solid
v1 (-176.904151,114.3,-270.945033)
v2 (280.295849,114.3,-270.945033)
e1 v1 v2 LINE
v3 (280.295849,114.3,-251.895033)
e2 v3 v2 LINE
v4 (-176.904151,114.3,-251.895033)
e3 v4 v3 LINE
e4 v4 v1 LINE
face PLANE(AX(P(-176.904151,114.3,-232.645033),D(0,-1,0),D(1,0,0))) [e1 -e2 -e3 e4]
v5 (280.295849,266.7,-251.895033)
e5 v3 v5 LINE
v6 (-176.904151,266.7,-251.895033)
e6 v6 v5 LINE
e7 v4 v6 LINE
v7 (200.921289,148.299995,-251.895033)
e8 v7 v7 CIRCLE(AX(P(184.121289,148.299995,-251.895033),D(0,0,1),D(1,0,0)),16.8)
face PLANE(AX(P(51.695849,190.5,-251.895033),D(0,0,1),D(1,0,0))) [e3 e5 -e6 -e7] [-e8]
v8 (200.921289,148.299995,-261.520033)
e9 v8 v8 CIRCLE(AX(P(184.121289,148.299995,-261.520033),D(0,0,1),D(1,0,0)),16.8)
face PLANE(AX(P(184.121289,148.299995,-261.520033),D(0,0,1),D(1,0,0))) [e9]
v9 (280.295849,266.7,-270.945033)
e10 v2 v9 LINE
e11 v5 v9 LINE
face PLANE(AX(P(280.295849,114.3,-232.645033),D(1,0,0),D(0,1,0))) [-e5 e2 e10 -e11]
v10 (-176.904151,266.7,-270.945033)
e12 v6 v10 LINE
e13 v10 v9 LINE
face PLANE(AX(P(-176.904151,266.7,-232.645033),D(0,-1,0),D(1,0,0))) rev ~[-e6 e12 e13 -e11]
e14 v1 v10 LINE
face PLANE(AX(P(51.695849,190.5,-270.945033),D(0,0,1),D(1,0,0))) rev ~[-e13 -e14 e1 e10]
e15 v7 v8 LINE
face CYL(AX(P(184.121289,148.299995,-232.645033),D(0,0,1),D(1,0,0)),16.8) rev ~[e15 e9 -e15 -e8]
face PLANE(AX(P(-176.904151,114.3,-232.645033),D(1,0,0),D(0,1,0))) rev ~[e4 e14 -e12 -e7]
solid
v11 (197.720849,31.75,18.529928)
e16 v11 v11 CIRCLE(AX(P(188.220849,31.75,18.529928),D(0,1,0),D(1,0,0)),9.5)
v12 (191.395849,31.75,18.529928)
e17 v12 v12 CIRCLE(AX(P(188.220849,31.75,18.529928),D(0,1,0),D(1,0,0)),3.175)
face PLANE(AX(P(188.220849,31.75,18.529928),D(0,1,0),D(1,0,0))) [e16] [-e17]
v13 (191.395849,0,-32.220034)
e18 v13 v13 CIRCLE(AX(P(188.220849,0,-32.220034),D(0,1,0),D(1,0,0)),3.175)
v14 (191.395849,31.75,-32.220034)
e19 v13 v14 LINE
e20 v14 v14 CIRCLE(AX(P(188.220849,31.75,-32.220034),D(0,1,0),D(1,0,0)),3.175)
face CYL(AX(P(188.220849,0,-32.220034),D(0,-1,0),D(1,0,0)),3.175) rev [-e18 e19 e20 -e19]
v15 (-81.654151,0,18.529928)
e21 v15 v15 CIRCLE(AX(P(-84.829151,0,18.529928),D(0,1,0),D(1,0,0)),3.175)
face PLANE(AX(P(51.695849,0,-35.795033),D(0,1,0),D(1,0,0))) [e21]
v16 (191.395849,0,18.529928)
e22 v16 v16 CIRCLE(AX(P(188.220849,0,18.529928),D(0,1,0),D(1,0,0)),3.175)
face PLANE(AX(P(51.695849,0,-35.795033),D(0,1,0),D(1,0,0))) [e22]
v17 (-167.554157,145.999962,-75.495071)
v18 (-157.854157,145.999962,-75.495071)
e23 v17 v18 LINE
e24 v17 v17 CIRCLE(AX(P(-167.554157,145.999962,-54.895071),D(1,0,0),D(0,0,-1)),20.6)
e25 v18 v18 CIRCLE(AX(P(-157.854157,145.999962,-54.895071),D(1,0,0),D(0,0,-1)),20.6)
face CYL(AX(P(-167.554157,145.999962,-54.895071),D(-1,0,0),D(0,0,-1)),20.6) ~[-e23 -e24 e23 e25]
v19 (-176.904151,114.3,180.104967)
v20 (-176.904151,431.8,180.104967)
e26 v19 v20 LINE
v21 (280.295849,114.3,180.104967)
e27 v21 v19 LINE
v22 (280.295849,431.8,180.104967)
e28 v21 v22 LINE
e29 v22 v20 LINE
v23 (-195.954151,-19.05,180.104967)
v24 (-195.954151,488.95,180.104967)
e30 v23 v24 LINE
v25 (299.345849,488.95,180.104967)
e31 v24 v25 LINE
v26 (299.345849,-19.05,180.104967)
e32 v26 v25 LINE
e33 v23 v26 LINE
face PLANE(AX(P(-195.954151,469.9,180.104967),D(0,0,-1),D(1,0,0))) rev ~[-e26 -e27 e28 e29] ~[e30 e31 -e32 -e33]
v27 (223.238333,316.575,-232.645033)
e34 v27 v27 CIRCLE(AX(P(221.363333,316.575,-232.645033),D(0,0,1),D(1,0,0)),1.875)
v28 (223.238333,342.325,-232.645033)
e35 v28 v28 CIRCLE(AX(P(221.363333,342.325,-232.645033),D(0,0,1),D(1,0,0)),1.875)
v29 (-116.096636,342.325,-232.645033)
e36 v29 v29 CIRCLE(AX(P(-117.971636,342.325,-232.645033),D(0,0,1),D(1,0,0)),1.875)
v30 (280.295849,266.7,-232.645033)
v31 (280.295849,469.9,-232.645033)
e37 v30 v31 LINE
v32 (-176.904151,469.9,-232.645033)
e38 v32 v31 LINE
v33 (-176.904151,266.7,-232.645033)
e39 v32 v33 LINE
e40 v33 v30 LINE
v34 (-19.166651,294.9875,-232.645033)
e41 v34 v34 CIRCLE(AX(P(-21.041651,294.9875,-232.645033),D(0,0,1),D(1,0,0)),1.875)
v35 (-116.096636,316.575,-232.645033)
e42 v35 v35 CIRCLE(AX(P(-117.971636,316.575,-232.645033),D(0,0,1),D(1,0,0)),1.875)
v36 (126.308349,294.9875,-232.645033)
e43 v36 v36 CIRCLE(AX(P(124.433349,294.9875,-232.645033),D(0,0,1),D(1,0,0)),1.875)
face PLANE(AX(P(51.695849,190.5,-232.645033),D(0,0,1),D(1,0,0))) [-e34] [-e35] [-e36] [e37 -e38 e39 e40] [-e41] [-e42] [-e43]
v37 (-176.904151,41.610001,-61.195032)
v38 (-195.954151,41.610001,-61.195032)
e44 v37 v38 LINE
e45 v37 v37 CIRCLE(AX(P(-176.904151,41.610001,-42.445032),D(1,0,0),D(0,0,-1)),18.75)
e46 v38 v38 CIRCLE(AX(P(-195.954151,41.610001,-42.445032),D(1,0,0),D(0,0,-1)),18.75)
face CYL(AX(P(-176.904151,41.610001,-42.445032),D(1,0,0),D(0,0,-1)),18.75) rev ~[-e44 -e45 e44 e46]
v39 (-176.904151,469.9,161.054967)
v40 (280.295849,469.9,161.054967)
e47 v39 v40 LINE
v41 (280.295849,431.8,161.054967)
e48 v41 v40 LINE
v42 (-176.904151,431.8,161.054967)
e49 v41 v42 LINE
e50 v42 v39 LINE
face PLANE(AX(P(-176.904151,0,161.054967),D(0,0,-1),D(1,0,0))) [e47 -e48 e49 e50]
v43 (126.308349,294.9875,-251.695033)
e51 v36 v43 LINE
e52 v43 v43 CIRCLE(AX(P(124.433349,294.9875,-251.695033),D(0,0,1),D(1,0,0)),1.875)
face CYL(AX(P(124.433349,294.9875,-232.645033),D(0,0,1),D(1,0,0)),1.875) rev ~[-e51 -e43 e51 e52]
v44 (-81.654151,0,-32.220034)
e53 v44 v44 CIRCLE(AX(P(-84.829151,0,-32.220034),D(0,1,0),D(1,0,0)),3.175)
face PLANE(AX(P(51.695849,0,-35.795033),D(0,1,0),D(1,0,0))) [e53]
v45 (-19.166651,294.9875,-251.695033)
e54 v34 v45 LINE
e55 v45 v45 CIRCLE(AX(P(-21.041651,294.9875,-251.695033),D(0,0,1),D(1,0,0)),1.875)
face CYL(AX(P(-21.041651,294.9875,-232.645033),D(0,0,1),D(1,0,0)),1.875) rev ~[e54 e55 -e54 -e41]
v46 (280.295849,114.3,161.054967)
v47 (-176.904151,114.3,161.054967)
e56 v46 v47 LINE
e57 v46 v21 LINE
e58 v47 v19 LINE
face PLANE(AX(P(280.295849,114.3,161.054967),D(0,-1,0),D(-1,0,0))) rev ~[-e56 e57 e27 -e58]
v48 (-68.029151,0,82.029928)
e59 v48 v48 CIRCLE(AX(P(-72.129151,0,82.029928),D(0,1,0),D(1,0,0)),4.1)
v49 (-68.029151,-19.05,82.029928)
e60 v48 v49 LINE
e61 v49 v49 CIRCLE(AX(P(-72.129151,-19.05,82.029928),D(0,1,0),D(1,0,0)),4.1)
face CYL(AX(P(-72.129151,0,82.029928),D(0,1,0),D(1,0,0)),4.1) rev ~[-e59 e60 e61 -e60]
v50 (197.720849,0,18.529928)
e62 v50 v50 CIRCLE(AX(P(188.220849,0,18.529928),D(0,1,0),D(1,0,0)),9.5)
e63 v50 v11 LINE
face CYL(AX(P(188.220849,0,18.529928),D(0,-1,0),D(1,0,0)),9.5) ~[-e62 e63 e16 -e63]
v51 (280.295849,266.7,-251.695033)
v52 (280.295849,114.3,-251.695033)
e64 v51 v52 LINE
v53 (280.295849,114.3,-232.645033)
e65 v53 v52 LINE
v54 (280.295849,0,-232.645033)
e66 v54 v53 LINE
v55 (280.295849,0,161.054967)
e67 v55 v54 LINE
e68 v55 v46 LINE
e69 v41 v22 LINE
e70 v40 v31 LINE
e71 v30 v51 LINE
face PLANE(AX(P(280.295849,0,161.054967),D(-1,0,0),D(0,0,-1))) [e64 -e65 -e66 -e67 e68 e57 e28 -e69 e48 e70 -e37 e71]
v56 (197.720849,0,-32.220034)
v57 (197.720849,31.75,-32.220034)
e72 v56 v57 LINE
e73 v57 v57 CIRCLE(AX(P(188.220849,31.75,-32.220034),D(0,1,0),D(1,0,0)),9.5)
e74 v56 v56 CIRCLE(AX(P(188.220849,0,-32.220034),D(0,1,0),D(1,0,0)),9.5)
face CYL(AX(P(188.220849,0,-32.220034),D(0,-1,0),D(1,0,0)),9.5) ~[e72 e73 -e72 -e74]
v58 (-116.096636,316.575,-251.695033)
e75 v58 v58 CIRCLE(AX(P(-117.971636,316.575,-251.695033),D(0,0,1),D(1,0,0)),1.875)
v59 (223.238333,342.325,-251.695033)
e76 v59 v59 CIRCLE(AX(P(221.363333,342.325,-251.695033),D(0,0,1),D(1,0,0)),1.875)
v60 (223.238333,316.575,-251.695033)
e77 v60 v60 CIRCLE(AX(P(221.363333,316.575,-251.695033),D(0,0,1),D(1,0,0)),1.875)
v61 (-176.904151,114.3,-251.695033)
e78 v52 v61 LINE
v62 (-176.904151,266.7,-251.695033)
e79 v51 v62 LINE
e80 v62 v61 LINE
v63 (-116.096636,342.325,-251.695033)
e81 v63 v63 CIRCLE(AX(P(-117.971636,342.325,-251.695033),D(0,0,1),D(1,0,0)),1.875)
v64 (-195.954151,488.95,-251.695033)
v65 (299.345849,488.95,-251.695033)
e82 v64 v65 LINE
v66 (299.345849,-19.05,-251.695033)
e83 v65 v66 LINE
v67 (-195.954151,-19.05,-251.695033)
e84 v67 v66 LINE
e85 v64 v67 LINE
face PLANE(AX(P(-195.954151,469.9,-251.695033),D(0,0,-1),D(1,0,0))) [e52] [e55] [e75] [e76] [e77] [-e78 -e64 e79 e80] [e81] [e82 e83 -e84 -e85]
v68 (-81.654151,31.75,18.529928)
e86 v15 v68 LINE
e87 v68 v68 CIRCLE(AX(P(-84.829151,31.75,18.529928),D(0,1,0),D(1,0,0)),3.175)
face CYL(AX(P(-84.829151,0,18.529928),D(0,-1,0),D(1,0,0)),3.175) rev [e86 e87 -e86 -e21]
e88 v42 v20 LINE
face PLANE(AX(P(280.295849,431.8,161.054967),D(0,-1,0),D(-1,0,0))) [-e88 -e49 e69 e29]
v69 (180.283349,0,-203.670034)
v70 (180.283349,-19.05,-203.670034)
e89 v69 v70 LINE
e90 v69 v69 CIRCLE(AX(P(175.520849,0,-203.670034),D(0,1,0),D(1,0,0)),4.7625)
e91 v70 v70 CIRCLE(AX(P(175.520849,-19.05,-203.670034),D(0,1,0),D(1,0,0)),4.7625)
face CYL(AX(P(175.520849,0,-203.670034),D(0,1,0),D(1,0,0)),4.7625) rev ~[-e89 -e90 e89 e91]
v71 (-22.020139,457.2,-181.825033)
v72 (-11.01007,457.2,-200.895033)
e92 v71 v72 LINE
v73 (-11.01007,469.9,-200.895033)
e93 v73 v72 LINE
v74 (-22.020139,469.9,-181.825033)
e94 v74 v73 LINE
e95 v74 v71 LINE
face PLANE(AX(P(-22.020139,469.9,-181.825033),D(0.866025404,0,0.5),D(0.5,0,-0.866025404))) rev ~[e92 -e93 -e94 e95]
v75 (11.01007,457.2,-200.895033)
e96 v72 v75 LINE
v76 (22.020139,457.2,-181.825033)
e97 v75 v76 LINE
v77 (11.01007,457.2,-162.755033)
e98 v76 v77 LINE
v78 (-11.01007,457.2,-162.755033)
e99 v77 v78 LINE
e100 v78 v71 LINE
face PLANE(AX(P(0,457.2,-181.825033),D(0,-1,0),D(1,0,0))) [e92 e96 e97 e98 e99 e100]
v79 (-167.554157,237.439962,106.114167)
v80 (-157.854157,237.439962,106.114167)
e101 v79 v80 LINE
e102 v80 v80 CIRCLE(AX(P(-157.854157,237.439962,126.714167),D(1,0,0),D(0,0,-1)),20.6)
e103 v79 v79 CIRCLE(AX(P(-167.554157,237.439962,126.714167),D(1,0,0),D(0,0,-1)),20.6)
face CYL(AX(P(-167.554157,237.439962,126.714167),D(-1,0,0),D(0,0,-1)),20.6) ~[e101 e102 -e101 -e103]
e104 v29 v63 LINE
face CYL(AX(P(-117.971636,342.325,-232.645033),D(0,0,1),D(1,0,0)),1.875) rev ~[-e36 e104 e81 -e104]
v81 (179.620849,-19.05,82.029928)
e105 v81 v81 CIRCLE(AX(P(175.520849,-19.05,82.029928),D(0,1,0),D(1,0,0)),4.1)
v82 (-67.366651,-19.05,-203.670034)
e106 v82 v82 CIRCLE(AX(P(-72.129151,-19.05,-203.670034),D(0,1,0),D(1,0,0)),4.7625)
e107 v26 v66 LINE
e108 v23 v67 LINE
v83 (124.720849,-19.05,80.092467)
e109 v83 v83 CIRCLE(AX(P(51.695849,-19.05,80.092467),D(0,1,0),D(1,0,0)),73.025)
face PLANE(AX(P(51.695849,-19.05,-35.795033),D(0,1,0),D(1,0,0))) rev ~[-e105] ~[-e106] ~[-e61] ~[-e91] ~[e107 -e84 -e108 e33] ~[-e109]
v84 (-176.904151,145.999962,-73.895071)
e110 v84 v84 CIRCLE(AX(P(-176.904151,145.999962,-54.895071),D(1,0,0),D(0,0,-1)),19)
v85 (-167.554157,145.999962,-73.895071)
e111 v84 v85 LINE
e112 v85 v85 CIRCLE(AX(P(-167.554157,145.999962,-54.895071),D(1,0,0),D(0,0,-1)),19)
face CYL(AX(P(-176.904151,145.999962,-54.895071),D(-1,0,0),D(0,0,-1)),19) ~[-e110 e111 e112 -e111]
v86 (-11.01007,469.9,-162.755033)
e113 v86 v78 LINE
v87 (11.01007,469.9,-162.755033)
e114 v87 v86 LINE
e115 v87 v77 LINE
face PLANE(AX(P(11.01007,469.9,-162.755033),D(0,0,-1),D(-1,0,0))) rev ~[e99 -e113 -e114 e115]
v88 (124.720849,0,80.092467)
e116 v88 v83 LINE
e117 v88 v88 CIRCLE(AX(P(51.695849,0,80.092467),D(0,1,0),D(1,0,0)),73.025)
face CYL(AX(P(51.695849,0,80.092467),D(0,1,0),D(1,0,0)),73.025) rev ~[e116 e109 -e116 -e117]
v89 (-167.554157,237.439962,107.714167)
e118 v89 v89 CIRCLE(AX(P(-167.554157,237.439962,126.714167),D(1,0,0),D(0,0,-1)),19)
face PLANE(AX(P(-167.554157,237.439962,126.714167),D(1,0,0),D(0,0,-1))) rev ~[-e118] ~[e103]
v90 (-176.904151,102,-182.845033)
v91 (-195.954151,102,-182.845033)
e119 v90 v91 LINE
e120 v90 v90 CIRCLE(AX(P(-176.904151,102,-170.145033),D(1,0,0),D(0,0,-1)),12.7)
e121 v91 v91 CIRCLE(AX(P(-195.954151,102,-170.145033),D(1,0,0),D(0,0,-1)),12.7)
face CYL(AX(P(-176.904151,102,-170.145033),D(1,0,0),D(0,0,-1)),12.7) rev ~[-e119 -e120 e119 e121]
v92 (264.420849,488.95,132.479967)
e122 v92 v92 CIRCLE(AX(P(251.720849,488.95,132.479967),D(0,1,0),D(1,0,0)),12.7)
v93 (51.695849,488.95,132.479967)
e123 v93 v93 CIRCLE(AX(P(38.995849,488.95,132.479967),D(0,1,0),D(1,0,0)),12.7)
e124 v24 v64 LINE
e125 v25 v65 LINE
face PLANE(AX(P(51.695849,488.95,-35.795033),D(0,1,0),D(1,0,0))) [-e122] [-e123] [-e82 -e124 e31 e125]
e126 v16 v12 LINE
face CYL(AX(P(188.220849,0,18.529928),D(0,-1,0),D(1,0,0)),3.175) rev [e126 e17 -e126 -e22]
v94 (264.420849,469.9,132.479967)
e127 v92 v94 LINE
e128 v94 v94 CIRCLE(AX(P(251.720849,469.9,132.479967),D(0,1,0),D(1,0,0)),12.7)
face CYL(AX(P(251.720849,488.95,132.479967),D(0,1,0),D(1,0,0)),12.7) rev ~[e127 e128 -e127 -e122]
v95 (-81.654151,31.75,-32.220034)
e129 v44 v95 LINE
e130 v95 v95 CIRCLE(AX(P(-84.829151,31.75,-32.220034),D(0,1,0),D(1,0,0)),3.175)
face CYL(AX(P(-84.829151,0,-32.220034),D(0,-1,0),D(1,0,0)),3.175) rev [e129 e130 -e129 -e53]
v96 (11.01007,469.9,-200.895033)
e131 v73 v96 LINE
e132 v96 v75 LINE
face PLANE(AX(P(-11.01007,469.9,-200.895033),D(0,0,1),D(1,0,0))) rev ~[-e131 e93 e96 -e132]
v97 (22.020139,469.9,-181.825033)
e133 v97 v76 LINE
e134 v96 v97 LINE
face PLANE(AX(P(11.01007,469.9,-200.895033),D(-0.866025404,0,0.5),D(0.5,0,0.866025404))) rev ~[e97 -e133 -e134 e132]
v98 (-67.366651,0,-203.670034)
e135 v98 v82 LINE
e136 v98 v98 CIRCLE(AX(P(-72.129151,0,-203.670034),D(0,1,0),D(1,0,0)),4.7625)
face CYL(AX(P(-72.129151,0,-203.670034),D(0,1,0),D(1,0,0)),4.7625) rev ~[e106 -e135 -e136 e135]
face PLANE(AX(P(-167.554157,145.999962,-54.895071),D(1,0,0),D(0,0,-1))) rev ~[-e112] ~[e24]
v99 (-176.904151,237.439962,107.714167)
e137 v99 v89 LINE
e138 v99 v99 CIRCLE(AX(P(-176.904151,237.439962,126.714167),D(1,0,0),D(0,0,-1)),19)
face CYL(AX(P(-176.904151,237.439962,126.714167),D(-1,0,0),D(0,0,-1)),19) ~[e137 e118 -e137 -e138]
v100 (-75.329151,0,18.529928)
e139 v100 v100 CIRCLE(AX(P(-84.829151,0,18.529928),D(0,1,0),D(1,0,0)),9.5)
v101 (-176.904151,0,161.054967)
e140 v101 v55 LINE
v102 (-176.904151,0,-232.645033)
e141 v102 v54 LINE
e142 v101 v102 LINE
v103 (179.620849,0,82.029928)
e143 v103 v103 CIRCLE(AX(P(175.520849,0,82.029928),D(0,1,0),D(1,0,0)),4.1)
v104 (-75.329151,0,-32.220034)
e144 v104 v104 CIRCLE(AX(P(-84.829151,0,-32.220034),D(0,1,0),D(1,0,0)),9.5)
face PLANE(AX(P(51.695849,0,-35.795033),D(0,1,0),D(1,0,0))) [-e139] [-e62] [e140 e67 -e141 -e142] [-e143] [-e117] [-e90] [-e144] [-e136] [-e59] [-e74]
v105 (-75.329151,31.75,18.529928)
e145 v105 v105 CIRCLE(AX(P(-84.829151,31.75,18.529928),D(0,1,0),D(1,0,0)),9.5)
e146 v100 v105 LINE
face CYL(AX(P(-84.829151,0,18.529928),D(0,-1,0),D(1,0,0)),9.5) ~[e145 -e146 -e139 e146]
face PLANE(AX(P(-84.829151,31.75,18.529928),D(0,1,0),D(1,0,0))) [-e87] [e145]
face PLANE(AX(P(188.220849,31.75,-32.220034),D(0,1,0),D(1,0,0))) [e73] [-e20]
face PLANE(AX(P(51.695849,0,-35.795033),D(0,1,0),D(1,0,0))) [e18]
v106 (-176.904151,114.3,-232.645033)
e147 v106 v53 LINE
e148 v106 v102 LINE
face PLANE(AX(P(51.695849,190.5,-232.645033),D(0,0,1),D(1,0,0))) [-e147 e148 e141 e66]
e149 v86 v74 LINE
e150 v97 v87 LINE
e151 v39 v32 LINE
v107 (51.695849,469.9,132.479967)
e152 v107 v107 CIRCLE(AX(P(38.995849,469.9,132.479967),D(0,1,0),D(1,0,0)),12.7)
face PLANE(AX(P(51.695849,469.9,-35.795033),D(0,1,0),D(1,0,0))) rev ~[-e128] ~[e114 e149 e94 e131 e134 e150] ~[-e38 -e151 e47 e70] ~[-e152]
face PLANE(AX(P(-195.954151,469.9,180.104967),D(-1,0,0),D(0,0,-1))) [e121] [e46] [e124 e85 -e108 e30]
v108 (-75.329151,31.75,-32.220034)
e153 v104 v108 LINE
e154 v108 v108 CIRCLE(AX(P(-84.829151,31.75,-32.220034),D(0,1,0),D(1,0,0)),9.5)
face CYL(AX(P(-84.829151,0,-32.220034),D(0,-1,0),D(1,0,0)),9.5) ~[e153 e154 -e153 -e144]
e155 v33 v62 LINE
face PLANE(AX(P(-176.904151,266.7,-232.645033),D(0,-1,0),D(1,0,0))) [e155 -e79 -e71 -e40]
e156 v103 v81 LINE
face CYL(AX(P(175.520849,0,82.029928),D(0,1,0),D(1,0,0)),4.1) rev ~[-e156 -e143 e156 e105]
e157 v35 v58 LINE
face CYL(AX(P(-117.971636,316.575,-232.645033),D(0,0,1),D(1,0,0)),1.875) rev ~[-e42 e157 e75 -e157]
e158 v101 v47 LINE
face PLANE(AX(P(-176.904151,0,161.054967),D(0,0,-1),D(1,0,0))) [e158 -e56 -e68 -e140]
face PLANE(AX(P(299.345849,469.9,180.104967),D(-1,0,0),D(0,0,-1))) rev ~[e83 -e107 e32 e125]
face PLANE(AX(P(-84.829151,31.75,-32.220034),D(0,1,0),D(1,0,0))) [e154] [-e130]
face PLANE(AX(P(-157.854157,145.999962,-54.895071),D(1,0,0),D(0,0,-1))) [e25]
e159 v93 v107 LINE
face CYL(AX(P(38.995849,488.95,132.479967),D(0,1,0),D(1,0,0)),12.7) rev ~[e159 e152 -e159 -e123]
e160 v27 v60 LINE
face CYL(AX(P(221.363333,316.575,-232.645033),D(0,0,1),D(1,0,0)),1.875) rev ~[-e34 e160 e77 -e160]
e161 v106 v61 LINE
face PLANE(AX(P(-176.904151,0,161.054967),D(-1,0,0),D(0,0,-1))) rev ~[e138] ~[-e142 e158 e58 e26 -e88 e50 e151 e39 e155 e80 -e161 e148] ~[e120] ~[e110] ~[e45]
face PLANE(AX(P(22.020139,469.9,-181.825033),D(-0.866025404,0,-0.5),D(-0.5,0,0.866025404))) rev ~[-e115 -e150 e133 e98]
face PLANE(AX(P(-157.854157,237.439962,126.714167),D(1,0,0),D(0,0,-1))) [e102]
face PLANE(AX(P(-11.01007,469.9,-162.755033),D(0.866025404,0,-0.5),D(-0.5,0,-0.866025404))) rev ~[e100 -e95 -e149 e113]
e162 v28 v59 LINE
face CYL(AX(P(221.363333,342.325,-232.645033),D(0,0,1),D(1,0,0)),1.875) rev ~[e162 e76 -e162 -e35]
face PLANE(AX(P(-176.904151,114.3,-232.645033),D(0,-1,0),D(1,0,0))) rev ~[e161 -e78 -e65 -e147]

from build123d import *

# Parameters (mm, degrees)
BASE_PLATE_SKETCH_R   = 9.5
BASE_PLATE_SKETCH_R_2 = 3.175
BOSS_EXTRUDE2_DEPTH   = 31.75
BOSS_EXTRUDE2_2_DEPTH = 31.75
BOSS_EXTRUDE2_3_DEPTH = 31.75
BOSS_EXTRUDE2_4_DEPTH = 31.75
SKETCH1_5_W           = 495.3
SKETCH1_5_H           = 431.8
BOSS_EXTRUDE3_DEPTH   = 19.05
SKETCH1_6_R           = 73.025
SKETCH1_6_R_2         = 4.1
SKETCH1_6_R_3         = 4.7625
CUT_EXTRUDE1_DEPTH    = 99.05
SKETCH1_7_W           = 495.3
SKETCH1_7_H           = 431.8
SKETCH1_7_W_2         = 457.2
SKETCH1_7_H_2         = 393.7
BOSS_EXTRUDE4_DEPTH   = 469.9
BACK_WALL_SKETCH_W    = 457.2
BACK_WALL_SKETCH_H    = 152.4
BOSS_EXTRUDE5_DEPTH   = 38.3
BACK_WALL_SKETCH_5_W  = 457.2
BACK_WALL_SKETCH_5_H  = 152.4
CUT_EXTRUDE2_DEPTH    = 19.25
BACK_WALL_SKETCH_7_R  = 16.8
CUT_EXTRUDE5_DEPTH    = 28.875
BACK_WALL_SKETCH_8_R  = 1.875
CUT_EXTRUDE6_DEPTH    = 28.875
LEFT_WALL_SKETCH_R    = 18.75
CUT_EXTRUDE7_DEPTH    = 28.875
LEFT_WALL_SKETCH_3_R  = 19
BOSS_EXTRUDE6_DEPTH   = 9.349994
SKETCH5_R             = 20.6
BOSS_EXTRUDE7_DEPTH   = 9.7
CHAMBER_DOOR_SKETCH_W = 457.2
CHAMBER_DOOR_SKETCH_H = 317.5
CUT_EXTRUDE8_DEPTH    = 25.4
TOP_SKETCH_W          = 495.3
TOP_SKETCH_H          = 431.8
BOSS_EXTRUDE8_DEPTH   = 19.05
BOSS_EXTRUDE9_DEPTH   = 12.7
CUT_EXTRUDE9_REACH    = 510
SKETCH8_R             = 12.7
CUT_EXTRUDE10_REACH   = 21.05
SKETCH9_R             = 12.7


with BuildPart() as part:
    # Base Plate Sketch → Boss-Extrude2 (new body)
    with BuildSketch(Plane(origin=(0, 0, 0), x_dir=(1, 0, 0), z_dir=(0, 1, 0))):
        with Locations((-84.82915121, 32.220033819)):
            Circle(BASE_PLATE_SKETCH_R)
        with Locations((-84.82915121, 32.220033819)):
            Circle(BASE_PLATE_SKETCH_R_2, mode=Mode.SUBTRACT)
    extrude(amount=BOSS_EXTRUDE2_DEPTH)



with BuildPart() as body_2:
    # Base Plate Sketch → Boss-Extrude2 2 (new body)
    with BuildSketch(Plane(origin=(0, 0, 0), x_dir=(1, 0, 0), z_dir=(0, 1, 0))):
        with Locations((-84.82915121, -18.529928181)):
            Circle(BASE_PLATE_SKETCH_R)
        with Locations((-84.82915121, -18.529928181)):
            Circle(BASE_PLATE_SKETCH_R_2, mode=Mode.SUBTRACT)
    extrude(amount=BOSS_EXTRUDE2_2_DEPTH)


with BuildPart() as body_3:
    # Base Plate Sketch → Boss-Extrude2 3 (new body)
    with BuildSketch(Plane(origin=(0, 0, 0), x_dir=(1, 0, 0), z_dir=(0, 1, 0))):
        with Locations((188.22084879, -18.529928181)):
            Circle(BASE_PLATE_SKETCH_R)
        with Locations((188.22084879, -18.529928181)):
            Circle(BASE_PLATE_SKETCH_R_2, mode=Mode.SUBTRACT)
    extrude(amount=BOSS_EXTRUDE2_3_DEPTH)


with BuildPart() as body_4:
    # Base Plate Sketch → Boss-Extrude2 4 (new body)
    with BuildSketch(Plane(origin=(0, 0, 0), x_dir=(1, 0, 0), z_dir=(0, 1, 0))):
        with Locations((188.22084879, 32.220033819)):
            Circle(BASE_PLATE_SKETCH_R)
        with Locations((188.22084879, 32.220033819)):
            Circle(BASE_PLATE_SKETCH_R_2, mode=Mode.SUBTRACT)
    extrude(amount=BOSS_EXTRUDE2_4_DEPTH)


with BuildPart() as part_1:
    add(part.part)

    add(body_2.part)  # Boss-Extrude3 merges body 2

    add(body_3.part)  # Boss-Extrude3 merges body 3

    add(body_4.part)  # Boss-Extrude3 merges body 4
    # Sketch1<5> → Boss-Extrude3 (add)
    with BuildSketch(Plane(origin=(0, 0, 0), x_dir=(1, 0, 0), z_dir=(0, 1, 0))):
        with Locations((51.69584879, 35.795033019)):
            Rectangle(SKETCH1_5_W, SKETCH1_5_H)
    extrude(amount=-BOSS_EXTRUDE3_DEPTH)

    # Sketch1<6> → Cut-Extrude1 (cut)
    with BuildSketch(Plane(origin=(0, 0, 0), x_dir=(1, 0, 0), z_dir=(0, 1, 0))):
        with Locations((51.69584879, -80.092466981)):
            Circle(SKETCH1_6_R)
        with Locations((-72.12915121, -82.029928181)):
            Circle(SKETCH1_6_R_2)
        with Locations((-72.12915121, 203.670033819)):
            Circle(SKETCH1_6_R_3)
        with Locations((175.52084879, -82.029928181)):
            Circle(SKETCH1_6_R_2)
        with Locations((175.52084879, 203.670033819)):
            Circle(SKETCH1_6_R_3)
    extrude(amount=-CUT_EXTRUDE1_DEPTH, mode=Mode.SUBTRACT)

    # Sketch1<7> → Boss-Extrude4 (add)
    with BuildSketch(Plane(origin=(0, 0, 0), x_dir=(1, 0, 0), z_dir=(0, 1, 0))):
        with Locations((51.69584879, 35.795033019)):
            Rectangle(SKETCH1_7_W, SKETCH1_7_H)
        with Locations((51.69584879, 35.795033019)):
            Rectangle(SKETCH1_7_W_2, SKETCH1_7_H_2, mode=Mode.SUBTRACT)
    extrude(amount=BOSS_EXTRUDE4_DEPTH)

    # Back Wall Sketch → Boss-Extrude5 (add)
    with BuildSketch(Plane.XY.offset(-232.645033019)):
        with Locations((51.69584879, 190.5)):
            Rectangle(BACK_WALL_SKETCH_W, BACK_WALL_SKETCH_H)
    extrude(amount=-BOSS_EXTRUDE5_DEPTH)

    # Back Wall Sketch<5> → Cut-Extrude2 (cut)
    with BuildSketch(Plane.XY.offset(-232.645033019)):
        with Locations((51.69584879, 190.5)):
            Rectangle(BACK_WALL_SKETCH_5_W, BACK_WALL_SKETCH_5_H)
    extrude(amount=-CUT_EXTRUDE2_DEPTH, mode=Mode.SUBTRACT)

    # Back Wall Sketch<7> → Cut-Extrude5 (cut)
    with BuildSketch(Plane.XY.offset(-232.645033019)):
        with Locations((184.12128879, 148.2999955)):
            Circle(BACK_WALL_SKETCH_7_R)
    extrude(amount=-CUT_EXTRUDE5_DEPTH, mode=Mode.SUBTRACT)

    # Back Wall Sketch<8> → Cut-Extrude6 (cut)
    with BuildSketch(Plane.XY.offset(-232.645033019)):
        with Locations((-117.971635681, 342.32499988)):
            Circle(BACK_WALL_SKETCH_8_R)
        with Locations((-21.04165115, 294.98749994)):
            Circle(BACK_WALL_SKETCH_8_R)
        with Locations((-117.971635681, 316.57499988)):
            Circle(BACK_WALL_SKETCH_8_R)
        with Locations((124.43334873, 294.98749994)):
            Circle(BACK_WALL_SKETCH_8_R)
        with Locations((221.363333262, 342.32499988)):
            Circle(BACK_WALL_SKETCH_8_R)
        with Locations((221.363333262, 316.57499988)):
            Circle(BACK_WALL_SKETCH_8_R)
    extrude(amount=-CUT_EXTRUDE6_DEPTH, mode=Mode.SUBTRACT)

    # Left Wall Sketch → Cut-Extrude7 (cut)
    with BuildSketch(Plane(origin=(-176.90415121, 0, 0), x_dir=(0, 0, -1), z_dir=(1, 0, 0))):
        with Locations((42.445032419, 41.6100006)):
            Circle(LEFT_WALL_SKETCH_R)
    extrude(amount=-CUT_EXTRUDE7_DEPTH, mode=Mode.SUBTRACT)

    # Left Wall Sketch<3> → Boss-Extrude6 (add)
    with BuildSketch(Plane(origin=(-176.90415121, 0, 0), x_dir=(0, 0, -1), z_dir=(1, 0, 0))):
        with Locations((-126.714166981, 237.439962)):
            Circle(LEFT_WALL_SKETCH_3_R)
        with Locations((54.895071019, 145.999962)):
            Circle(LEFT_WALL_SKETCH_3_R)
    extrude(amount=BOSS_EXTRUDE6_DEPTH)

    # Sketch5 → Boss-Extrude7 (add)
    with BuildSketch(Plane(origin=(-167.55415721, 0, 0), x_dir=(0, 0, -1), z_dir=(1, 0, 0))):
        with Locations((-126.714166981, 237.439962)):
            Circle(SKETCH5_R)
        with Locations((54.895071019, 145.999962)):
            Circle(SKETCH5_R)
    extrude(amount=BOSS_EXTRUDE7_DEPTH)

    # Chamber Door Sketch → Cut-Extrude8 (cut)
    with BuildSketch(Plane(origin=(0, 0, 161.054966981), x_dir=(-1, 0, 0), z_dir=(0, 0, -1))):
        with Locations((-51.69584879, 273.05)):
            Rectangle(CHAMBER_DOOR_SKETCH_W, CHAMBER_DOOR_SKETCH_H)
    extrude(amount=-CUT_EXTRUDE8_DEPTH, mode=Mode.SUBTRACT)

    # Top Sketch → Boss-Extrude8 (add)
    with BuildSketch(Plane(origin=(0, 469.9, 0), x_dir=(1, 0, 0), z_dir=(0, 1, 0))):
        with Locations((51.69584879, 35.795033019)):
            Rectangle(TOP_SKETCH_W, TOP_SKETCH_H)
    extrude(amount=BOSS_EXTRUDE8_DEPTH)

    # Sketch7 → Boss-Extrude9 (add)
    with BuildSketch(Plane.XZ.offset(-469.9)):
        Polygon((22.020139267, -181.825033019), (11.010069633, -162.755033019), (-11.010069633, -162.755033019), (-22.020139267, -181.825033019), (-11.010069633, -200.895033019), (11.010069633, -200.895033019), align=None)
    extrude(amount=BOSS_EXTRUDE9_DEPTH)

    # Sketch8 → Cut-Extrude9 (cut, up to next)
    with BuildSketch(Plane(origin=(0, 488.95, 0), x_dir=(1, 0, 0), z_dir=(0, 1, 0)), mode=Mode.PRIVATE) as cut_extrude9_sk1:
        with Locations((38.99584879, -132.479966981)):
            Circle(SKETCH8_R)
    cut_extrude9_tool1 = extrude(cut_extrude9_sk1.sketch, amount=-CUT_EXTRUDE9_REACH, mode=Mode.PRIVATE) & part_1.part
    add(cut_extrude9_tool1.solids().sort_by_distance((38.995849, 488.95, 132.479967))[0], mode=Mode.SUBTRACT)
    # Sketch8 → Cut-Extrude9 (cut, up to next)
    with BuildSketch(Plane(origin=(0, 488.95, 0), x_dir=(1, 0, 0), z_dir=(0, 1, 0)), mode=Mode.PRIVATE) as cut_extrude9_sk2:
        with Locations((251.72084879, -132.479966981)):
            Circle(SKETCH8_R)
    cut_extrude9_tool2 = extrude(cut_extrude9_sk2.sketch, amount=-CUT_EXTRUDE9_REACH, mode=Mode.PRIVATE) & part_1.part
    add(cut_extrude9_tool2.solids().sort_by_distance((251.720849, 488.95, 132.479967))[0], mode=Mode.SUBTRACT)

    # Sketch9 → Cut-Extrude10 (cut, up to next)
    with BuildSketch(Plane(origin=(-176.90415121, 0, 0), x_dir=(0, 0, -1), z_dir=(1, 0, 0)), mode=Mode.PRIVATE) as cut_extrude10_sk1:
        with Locations((170.145033019, 102)):
            Circle(SKETCH9_R)
    cut_extrude10_tool1 = extrude(cut_extrude10_sk1.sketch, amount=-CUT_EXTRUDE10_REACH, mode=Mode.PRIVATE) & part_1.part
    add(cut_extrude10_tool1.solids().sort_by_distance((-176.904151, 102, -170.145033))[0], mode=Mode.SUBTRACT)


solid = part_1.part
